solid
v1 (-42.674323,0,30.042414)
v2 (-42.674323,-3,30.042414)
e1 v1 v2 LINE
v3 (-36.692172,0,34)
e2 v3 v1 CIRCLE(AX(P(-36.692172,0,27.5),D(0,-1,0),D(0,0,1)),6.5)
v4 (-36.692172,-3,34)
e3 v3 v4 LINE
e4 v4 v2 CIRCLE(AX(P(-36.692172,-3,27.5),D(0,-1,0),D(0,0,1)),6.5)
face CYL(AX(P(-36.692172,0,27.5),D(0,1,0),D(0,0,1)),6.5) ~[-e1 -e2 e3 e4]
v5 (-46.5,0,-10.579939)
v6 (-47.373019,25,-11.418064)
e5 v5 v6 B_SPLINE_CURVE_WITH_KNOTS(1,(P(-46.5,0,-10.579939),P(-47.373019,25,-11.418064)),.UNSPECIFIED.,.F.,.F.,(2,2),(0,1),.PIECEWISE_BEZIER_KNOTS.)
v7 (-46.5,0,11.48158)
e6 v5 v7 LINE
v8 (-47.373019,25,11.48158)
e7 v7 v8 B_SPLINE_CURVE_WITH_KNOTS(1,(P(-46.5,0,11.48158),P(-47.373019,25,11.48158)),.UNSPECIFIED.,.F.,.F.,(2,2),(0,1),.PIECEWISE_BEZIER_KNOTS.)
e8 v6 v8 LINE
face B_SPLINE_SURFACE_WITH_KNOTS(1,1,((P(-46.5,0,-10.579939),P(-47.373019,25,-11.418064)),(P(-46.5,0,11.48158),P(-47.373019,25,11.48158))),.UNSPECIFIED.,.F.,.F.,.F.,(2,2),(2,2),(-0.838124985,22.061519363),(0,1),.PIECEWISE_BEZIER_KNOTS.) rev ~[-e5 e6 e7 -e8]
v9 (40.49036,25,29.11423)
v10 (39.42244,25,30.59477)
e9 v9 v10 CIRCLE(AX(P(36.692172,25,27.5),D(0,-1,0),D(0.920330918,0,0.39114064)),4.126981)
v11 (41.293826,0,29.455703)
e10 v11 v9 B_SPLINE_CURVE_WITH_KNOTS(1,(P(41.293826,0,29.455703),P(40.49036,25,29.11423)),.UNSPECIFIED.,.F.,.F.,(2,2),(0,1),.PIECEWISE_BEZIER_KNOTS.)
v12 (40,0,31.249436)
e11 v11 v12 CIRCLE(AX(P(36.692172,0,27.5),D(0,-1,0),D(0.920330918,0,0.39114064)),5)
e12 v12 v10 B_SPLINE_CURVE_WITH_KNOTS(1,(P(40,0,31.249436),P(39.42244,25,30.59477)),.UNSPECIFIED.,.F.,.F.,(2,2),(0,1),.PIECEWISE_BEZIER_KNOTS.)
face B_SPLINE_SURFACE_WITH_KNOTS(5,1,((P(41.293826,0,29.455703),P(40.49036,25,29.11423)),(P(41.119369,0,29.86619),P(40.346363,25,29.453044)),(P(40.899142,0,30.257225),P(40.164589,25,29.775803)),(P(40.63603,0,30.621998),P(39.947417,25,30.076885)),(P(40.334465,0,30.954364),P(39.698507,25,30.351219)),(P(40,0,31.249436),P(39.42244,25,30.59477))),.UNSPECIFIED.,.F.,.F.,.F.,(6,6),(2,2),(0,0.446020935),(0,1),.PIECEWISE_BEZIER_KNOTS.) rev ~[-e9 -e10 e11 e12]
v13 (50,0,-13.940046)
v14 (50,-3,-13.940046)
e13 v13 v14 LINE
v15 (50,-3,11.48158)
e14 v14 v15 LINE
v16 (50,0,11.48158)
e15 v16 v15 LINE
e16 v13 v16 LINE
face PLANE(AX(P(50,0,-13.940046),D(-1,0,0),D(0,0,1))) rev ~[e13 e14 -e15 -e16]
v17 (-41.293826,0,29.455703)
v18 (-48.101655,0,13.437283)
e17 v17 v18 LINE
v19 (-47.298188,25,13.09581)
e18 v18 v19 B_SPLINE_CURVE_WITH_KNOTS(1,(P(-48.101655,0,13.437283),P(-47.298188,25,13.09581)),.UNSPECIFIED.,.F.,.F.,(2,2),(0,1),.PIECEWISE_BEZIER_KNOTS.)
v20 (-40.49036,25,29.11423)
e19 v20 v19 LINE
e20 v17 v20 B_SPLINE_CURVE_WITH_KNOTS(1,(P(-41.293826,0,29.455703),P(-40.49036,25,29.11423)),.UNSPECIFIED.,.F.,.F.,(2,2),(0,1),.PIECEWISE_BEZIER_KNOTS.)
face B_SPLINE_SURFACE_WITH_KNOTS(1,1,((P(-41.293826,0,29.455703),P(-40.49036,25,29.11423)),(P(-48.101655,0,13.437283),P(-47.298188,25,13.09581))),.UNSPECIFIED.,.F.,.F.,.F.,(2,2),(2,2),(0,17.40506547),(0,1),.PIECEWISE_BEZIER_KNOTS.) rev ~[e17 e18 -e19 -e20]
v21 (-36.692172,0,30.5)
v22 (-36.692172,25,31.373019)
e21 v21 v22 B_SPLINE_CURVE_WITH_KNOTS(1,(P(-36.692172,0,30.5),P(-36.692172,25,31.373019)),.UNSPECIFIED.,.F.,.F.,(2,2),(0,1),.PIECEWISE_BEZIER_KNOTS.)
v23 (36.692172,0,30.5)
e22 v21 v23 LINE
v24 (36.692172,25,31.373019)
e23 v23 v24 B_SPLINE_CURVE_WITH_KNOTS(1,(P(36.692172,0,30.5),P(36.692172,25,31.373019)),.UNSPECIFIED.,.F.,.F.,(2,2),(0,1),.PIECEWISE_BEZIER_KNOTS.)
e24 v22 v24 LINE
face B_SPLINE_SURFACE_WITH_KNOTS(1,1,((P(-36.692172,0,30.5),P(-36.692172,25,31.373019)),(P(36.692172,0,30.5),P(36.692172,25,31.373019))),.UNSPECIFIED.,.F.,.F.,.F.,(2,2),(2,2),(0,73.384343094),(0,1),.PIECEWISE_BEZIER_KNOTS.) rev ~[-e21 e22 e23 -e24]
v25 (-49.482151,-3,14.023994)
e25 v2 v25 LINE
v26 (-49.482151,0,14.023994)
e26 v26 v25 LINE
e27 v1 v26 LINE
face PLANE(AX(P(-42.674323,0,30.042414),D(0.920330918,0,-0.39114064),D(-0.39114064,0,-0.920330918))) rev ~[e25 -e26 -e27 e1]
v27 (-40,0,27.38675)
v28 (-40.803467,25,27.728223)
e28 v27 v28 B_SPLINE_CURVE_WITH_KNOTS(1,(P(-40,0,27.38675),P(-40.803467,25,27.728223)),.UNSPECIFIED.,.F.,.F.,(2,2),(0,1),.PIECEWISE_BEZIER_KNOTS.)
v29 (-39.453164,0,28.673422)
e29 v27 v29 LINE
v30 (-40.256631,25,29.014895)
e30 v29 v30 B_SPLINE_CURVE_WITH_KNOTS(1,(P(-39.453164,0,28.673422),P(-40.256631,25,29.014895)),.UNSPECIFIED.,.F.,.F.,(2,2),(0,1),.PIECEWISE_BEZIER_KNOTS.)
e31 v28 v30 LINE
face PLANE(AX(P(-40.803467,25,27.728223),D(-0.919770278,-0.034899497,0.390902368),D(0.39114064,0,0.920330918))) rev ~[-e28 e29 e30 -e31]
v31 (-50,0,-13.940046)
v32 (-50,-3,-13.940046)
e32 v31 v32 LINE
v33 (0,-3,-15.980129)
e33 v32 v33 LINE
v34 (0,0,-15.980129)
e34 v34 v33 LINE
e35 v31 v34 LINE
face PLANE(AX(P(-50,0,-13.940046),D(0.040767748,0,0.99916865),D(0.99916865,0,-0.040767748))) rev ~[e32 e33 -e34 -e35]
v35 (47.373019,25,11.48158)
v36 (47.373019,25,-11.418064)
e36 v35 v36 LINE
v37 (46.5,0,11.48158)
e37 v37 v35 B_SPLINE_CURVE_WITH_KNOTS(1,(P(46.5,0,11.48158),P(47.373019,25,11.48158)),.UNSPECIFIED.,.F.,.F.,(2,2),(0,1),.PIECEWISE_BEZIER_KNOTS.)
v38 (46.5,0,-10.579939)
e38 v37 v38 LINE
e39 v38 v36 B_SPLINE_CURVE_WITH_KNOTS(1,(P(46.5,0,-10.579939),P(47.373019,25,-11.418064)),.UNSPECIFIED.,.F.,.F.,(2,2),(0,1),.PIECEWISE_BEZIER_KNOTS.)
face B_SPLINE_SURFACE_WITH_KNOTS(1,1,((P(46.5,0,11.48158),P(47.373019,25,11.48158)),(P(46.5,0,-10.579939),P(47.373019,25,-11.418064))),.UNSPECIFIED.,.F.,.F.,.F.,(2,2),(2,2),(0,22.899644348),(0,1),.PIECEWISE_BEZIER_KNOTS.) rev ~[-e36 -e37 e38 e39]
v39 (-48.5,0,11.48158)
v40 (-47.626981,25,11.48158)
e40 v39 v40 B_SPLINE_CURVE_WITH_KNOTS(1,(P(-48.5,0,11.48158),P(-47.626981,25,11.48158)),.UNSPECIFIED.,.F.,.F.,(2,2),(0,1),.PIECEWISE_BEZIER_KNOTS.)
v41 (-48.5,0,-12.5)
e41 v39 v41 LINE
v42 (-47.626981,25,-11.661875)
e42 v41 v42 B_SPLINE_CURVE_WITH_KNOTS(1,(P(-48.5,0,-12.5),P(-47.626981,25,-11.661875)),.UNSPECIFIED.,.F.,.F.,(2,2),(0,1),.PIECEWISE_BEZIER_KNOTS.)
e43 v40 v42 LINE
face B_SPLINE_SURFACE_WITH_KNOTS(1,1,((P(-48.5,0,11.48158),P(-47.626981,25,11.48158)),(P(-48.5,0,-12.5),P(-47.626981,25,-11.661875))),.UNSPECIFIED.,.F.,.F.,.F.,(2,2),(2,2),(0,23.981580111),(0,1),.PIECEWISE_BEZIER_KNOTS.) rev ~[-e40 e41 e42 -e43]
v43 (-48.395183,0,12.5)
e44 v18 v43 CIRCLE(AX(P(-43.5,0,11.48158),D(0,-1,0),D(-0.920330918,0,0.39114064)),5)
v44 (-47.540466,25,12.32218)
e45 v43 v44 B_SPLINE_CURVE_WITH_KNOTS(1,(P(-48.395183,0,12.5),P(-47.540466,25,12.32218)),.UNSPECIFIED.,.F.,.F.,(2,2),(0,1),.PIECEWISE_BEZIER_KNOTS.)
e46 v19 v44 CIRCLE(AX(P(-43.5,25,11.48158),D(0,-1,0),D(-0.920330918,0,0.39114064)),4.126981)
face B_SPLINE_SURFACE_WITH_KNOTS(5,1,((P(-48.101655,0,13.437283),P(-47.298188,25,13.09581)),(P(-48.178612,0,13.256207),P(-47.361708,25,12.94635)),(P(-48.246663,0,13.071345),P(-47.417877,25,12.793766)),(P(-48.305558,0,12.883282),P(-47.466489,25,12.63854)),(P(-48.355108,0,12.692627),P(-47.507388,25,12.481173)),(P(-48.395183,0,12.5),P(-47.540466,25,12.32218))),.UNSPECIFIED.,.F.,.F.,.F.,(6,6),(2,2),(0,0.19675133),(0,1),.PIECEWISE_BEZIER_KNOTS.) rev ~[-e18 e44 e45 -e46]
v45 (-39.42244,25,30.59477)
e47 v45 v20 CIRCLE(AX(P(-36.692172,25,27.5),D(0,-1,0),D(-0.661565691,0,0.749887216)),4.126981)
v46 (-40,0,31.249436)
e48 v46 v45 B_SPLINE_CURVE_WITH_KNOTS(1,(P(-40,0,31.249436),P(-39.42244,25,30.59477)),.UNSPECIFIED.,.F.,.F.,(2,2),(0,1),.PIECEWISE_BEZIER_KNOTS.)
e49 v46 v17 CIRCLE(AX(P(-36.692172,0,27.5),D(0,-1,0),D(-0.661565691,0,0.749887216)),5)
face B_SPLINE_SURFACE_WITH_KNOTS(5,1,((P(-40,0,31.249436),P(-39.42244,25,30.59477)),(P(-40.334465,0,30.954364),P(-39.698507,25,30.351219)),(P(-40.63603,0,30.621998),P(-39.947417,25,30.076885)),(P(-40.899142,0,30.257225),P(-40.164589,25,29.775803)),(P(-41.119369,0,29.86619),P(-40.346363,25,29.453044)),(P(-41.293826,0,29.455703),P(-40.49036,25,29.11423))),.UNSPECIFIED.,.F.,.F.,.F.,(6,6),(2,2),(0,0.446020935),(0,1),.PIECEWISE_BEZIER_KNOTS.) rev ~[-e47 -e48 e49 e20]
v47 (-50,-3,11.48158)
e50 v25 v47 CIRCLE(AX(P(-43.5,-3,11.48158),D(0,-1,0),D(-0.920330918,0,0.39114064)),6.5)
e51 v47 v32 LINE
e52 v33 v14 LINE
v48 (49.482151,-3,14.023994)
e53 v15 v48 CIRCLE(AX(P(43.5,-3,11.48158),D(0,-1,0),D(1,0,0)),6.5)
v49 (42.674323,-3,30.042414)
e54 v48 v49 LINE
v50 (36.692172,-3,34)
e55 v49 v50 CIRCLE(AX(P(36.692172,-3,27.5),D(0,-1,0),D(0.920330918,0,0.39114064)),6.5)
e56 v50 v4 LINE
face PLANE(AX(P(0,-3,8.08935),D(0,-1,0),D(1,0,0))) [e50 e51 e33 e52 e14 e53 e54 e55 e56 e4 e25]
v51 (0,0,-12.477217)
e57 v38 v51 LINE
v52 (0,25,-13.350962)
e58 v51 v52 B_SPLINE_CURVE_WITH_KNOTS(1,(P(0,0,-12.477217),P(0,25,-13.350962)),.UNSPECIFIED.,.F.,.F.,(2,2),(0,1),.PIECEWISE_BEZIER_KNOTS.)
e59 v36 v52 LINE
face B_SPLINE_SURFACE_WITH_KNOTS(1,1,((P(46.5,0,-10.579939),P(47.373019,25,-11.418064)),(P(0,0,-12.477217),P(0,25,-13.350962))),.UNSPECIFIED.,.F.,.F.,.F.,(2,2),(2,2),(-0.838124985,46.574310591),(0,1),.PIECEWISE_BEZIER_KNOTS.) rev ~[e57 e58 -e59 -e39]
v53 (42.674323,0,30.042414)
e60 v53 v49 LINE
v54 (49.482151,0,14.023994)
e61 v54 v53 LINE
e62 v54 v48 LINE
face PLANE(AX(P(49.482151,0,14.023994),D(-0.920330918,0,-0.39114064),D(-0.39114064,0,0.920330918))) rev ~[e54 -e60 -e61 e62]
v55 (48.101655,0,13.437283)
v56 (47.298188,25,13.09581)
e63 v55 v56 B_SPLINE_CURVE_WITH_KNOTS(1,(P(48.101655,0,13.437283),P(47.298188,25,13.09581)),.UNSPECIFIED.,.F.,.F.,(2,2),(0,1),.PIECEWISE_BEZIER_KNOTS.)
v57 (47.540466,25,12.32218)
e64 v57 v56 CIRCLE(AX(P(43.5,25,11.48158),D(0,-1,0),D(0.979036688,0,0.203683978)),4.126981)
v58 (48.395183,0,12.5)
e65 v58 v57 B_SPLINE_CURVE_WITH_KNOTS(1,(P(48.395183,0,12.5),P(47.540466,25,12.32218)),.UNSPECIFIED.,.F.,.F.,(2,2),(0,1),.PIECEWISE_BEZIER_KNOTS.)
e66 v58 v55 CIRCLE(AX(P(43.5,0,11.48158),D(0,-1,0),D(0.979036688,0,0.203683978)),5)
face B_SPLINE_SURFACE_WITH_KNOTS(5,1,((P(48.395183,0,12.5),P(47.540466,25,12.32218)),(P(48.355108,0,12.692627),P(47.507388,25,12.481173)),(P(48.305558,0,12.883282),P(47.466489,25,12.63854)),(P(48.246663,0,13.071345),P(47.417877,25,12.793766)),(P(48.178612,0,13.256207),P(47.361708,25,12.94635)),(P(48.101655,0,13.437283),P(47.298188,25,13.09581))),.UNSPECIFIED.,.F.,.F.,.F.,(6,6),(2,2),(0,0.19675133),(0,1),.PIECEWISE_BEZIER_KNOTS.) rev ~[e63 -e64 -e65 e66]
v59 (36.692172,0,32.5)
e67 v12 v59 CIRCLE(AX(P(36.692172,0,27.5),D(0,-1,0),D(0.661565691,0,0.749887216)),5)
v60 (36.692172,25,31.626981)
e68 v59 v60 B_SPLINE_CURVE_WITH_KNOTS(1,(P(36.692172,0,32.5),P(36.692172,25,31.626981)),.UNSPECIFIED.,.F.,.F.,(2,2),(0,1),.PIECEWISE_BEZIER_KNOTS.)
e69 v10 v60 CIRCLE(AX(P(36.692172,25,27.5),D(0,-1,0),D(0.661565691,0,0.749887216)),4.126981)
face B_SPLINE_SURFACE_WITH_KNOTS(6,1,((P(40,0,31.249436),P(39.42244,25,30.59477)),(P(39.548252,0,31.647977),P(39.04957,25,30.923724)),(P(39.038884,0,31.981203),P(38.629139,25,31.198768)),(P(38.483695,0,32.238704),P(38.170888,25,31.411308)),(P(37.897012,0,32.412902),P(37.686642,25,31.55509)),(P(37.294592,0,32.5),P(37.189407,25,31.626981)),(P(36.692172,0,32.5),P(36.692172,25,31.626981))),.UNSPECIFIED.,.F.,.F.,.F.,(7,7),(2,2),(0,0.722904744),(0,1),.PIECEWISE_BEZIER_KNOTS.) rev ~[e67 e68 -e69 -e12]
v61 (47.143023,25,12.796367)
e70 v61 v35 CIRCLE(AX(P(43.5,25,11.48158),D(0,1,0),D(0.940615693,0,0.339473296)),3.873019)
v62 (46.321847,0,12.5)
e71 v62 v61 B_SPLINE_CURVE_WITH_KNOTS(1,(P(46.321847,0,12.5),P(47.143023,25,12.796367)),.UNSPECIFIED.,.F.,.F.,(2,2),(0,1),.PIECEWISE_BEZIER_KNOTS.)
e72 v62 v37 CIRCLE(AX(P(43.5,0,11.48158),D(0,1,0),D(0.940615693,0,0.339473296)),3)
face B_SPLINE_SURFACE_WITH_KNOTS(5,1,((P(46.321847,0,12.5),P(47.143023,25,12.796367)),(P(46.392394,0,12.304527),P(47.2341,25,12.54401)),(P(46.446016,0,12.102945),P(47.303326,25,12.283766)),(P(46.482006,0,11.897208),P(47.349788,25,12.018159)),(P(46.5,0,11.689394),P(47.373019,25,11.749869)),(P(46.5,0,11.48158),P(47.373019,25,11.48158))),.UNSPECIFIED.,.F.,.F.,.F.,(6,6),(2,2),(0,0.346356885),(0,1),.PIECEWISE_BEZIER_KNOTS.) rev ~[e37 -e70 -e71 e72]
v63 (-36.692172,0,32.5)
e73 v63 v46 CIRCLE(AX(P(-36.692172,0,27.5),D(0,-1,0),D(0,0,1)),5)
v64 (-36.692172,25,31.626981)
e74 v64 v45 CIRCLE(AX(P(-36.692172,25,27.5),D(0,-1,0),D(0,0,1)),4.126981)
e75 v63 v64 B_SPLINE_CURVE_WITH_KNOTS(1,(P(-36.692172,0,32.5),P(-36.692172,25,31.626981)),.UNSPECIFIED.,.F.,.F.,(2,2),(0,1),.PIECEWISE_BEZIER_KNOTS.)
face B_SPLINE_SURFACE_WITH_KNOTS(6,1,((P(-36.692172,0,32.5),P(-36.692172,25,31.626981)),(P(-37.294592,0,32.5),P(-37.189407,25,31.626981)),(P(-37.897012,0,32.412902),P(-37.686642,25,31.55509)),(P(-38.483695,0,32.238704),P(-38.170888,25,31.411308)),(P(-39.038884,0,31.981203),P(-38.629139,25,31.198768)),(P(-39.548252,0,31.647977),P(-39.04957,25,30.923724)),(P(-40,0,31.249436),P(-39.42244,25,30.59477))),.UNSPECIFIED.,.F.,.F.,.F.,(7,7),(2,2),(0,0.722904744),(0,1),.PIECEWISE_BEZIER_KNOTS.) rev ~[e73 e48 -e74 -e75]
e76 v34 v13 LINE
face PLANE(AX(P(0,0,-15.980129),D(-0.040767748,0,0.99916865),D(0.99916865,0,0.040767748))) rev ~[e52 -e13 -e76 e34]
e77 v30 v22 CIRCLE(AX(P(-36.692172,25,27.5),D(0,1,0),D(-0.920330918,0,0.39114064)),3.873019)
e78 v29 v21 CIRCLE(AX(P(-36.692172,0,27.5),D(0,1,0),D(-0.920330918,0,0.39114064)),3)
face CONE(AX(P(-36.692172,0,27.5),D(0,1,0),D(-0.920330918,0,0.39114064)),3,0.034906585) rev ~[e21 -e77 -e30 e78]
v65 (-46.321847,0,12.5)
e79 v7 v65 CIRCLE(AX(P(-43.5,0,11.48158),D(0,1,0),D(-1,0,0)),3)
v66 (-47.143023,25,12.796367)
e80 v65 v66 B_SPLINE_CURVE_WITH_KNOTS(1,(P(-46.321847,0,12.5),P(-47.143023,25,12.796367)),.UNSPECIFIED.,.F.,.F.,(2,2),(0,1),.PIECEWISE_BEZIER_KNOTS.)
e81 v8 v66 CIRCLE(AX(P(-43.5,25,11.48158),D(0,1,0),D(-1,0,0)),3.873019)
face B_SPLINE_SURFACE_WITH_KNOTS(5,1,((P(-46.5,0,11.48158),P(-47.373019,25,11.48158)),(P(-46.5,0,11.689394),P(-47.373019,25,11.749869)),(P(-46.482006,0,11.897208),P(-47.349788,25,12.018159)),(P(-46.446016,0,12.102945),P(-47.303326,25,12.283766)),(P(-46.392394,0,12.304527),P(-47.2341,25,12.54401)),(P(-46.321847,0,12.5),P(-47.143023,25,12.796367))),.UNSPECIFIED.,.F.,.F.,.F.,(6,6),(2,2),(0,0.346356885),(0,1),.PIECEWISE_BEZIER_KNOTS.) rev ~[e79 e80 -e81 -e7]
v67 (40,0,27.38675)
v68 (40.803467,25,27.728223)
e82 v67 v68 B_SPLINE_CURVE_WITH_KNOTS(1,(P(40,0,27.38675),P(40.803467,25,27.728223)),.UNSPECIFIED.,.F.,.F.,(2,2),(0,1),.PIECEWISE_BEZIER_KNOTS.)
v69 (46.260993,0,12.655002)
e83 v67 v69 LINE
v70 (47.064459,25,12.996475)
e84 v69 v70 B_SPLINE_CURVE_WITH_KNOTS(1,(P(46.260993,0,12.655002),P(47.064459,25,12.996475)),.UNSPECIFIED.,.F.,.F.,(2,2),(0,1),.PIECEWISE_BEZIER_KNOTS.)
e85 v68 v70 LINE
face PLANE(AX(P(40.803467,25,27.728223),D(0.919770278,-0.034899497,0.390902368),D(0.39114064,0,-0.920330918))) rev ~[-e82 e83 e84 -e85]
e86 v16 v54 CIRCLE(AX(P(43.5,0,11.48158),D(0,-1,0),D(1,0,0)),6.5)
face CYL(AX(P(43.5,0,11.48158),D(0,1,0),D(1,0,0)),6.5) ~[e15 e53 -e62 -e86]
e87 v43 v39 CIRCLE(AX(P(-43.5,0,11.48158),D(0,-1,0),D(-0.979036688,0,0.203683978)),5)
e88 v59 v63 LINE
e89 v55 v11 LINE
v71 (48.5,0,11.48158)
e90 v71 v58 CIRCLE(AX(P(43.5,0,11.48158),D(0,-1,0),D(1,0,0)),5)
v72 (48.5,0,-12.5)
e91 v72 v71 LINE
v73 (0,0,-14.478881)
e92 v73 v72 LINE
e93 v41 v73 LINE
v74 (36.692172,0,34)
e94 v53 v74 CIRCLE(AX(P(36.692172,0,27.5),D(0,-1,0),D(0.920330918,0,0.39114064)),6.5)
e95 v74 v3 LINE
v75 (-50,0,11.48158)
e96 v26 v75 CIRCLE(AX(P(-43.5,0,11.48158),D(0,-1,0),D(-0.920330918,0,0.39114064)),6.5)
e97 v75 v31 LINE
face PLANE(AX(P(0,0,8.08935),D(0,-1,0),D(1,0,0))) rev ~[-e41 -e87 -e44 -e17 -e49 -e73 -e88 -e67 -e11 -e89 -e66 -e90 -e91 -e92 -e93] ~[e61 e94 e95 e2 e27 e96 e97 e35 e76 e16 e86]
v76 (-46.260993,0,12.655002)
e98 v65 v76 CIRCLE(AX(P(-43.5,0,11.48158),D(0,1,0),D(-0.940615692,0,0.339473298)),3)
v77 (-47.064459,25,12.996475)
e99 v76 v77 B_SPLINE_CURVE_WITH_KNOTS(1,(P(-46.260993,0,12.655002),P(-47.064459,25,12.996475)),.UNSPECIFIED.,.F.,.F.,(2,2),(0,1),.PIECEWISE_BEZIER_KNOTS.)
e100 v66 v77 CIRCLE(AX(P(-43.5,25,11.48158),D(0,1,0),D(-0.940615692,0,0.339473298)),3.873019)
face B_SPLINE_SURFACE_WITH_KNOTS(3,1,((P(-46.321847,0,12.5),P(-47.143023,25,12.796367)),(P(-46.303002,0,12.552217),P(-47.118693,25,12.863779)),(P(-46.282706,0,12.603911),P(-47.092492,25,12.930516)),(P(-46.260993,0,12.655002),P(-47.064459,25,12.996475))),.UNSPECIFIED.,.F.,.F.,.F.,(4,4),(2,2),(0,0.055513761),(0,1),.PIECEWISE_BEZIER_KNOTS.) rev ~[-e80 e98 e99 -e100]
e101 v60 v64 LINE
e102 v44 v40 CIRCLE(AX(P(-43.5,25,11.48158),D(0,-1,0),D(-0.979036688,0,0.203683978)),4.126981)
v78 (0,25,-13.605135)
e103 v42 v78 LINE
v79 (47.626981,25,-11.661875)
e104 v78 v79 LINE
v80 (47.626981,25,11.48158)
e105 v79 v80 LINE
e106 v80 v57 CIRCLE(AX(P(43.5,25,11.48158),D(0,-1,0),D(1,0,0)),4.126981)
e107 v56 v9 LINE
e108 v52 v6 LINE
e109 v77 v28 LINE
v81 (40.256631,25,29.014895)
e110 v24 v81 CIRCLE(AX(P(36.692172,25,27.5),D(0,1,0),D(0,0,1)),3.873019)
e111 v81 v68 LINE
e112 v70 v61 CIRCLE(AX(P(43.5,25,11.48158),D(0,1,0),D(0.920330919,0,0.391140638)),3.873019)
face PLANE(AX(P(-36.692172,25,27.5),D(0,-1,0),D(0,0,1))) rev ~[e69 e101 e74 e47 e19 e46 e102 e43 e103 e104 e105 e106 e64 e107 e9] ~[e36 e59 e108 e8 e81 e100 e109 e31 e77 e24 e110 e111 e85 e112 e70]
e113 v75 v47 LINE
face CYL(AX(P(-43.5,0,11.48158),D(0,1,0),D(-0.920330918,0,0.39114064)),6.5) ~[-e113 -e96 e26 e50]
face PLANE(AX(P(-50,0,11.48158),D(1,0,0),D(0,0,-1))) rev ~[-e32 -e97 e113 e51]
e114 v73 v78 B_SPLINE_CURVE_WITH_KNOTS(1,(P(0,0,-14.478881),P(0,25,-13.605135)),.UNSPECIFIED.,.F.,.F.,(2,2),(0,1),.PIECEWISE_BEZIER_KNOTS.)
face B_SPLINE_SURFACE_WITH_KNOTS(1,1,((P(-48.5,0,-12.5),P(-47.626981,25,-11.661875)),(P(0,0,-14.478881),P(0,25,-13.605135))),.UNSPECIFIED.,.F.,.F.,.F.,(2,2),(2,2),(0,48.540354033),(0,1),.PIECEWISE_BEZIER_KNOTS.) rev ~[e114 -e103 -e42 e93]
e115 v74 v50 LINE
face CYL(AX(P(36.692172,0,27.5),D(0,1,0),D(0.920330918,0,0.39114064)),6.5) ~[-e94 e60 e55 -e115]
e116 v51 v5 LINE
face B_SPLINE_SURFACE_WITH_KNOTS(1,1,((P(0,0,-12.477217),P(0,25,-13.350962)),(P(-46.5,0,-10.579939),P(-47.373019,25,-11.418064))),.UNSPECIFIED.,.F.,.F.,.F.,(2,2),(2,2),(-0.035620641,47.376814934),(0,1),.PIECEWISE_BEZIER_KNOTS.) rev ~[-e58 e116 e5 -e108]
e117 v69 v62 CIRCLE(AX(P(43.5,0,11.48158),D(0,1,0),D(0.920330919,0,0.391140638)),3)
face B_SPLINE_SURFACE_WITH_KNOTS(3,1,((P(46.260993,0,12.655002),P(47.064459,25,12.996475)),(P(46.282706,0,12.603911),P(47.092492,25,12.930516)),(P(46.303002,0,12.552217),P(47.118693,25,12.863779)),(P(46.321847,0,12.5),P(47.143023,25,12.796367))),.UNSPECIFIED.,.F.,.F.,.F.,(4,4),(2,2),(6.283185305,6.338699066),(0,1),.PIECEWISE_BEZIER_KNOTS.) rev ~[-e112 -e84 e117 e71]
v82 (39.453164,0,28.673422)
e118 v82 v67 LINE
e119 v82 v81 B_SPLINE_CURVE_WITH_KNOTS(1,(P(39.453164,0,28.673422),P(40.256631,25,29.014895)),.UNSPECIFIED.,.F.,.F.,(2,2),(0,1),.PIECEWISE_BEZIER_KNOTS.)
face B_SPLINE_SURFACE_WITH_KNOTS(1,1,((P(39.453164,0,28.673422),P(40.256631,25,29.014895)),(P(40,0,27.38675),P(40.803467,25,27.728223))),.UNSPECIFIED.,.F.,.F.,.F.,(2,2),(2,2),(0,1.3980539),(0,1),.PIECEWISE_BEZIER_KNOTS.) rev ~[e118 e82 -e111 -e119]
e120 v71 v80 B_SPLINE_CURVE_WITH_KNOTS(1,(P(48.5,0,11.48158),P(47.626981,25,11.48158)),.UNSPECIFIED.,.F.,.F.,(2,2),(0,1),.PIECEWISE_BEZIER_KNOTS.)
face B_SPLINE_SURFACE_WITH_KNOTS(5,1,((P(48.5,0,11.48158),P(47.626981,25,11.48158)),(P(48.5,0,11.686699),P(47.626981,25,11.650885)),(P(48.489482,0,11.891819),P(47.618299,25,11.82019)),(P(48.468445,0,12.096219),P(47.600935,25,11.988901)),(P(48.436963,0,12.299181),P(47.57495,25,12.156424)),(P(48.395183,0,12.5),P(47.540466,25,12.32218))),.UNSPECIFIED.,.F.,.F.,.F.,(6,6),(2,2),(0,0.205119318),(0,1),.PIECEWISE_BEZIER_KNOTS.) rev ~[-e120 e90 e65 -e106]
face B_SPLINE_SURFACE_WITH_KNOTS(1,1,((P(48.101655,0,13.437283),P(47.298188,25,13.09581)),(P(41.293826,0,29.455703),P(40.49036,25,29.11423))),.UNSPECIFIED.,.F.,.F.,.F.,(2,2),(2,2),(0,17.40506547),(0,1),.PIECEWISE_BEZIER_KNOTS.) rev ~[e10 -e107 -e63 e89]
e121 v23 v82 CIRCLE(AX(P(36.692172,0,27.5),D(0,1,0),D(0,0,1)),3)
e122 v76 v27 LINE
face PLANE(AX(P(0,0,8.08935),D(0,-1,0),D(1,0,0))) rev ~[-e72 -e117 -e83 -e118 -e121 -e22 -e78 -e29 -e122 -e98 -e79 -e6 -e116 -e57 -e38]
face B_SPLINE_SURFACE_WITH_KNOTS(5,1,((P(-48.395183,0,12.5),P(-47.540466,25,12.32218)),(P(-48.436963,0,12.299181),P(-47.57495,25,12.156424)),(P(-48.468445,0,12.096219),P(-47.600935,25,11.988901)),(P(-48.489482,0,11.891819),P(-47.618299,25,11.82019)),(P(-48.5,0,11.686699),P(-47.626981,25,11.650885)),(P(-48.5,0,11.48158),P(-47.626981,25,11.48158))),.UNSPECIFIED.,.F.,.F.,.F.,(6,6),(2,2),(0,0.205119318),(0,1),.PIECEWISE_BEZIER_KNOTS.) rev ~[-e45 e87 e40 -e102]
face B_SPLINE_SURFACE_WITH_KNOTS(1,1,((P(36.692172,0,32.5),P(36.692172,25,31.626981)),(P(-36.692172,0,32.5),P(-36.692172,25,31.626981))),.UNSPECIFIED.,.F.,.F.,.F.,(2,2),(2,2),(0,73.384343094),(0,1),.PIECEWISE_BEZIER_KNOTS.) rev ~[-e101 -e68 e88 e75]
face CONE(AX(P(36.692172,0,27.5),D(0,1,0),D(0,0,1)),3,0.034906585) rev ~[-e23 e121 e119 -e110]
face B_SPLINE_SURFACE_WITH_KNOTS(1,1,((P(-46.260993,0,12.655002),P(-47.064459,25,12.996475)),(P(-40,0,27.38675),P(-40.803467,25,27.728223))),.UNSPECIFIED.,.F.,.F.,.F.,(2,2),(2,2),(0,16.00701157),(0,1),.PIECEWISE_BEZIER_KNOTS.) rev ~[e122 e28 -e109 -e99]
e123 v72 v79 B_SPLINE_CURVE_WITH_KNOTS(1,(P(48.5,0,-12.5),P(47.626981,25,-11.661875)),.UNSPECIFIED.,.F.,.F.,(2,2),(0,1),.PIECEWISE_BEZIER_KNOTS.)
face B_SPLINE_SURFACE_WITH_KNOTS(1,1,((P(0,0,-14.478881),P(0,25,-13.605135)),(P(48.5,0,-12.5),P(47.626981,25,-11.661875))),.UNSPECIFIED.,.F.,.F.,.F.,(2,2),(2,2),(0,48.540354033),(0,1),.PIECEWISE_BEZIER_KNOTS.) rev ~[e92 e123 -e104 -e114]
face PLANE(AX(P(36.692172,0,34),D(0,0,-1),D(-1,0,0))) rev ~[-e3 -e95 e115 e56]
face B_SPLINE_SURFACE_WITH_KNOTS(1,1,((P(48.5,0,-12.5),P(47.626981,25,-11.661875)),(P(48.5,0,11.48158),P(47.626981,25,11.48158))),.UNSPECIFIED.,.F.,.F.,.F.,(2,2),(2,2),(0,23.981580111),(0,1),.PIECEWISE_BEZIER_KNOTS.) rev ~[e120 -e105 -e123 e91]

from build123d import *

# Parameters (mm, degrees)
F1_DEPTH = 3
F2_DEPTH = 25
F2_TAPER = 2


with BuildPart() as f1:
    # F0 (on Front) → F1 (new body)
    with BuildSketch(Plane.XZ):
        with BuildLine():
            Line((-50, -13.9400455604), (0, -15.9801289749))
            Line((0, -15.9801289749), (50, -13.9400455604))
            Line((50, -13.9400455604), (50, 11.4815801105))
            ThreePointArc((50, 11.4815801105), (49.8692221387, 12.7788886118), (49.48215097, 14.0239942728))
            Line((49.48215097, 14.0239942728), (42.674322517, 30.0424141622))
            ThreePointArc((42.674322517, 30.0424141622), (40.2785560736, 32.9210558037), (36.692171547, 34))
            Line((36.692171547, 34), (-36.692171547, 34))
            ThreePointArc((-36.692171547, 34), (-40.2785560736, 32.9210558037), (-42.674322517, 30.0424141622))
            Line((-42.674322517, 30.0424141622), (-49.48215097, 14.0239942728))
            ThreePointArc((-49.48215097, 14.0239942728), (-49.8692221387, 12.7788886118), (-50, 11.4815801105))
            Line((-50, 11.4815801105), (-50, -13.9400455604))
        make_face()
        with BuildLine():
            Line((48.5, 11.4815801105), (48.5, -12.5))
            Line((48.5, -12.5), (0, -14.4788809121))
            Line((0, -14.4788809121), (-48.5, -12.5))
            Line((-48.5, -12.5), (-48.5, 11.4815801105))
            ThreePointArc((-48.5, 11.4815801105), (-48.4737268325, 11.9934799011), (-48.3951834418, 12.5))
            ThreePointArc((-48.3951834418, 12.5), (-48.2714890929, 12.9758665077), (-48.1016545923, 13.4372833123))
            Line((-48.1016545923, 13.4372833123), (-41.2938261393, 29.4557032017))
            ThreePointArc((-41.2938261393, 29.4557032017), (-40.7473349126, 30.4250042869), (-40, 31.249436081))
            ThreePointArc((-40, 31.249436081), (-38.4603372059, 32.1769210173), (-36.692171547, 32.5))
            Line((-36.692171547, 32.5), (0, 32.5))
            Line((0, 32.5), (36.692171547, 32.5))
            ThreePointArc((36.692171547, 32.5), (38.4603372059, 32.1769210173), (40, 31.249436081))
            ThreePointArc((40, 31.249436081), (40.7473349126, 30.4250042869), (41.2938261393, 29.4557032017))
            Line((41.2938261393, 29.4557032017), (48.1016545923, 13.4372833123))
            ThreePointArc((48.1016545923, 13.4372833123), (48.2714890929, 12.9758665077), (48.3951834418, 12.5))
            ThreePointArc((48.3951834418, 12.5), (48.4737268325, 11.9934799011), (48.5, 11.4815801105))
        make_face(mode=Mode.SUBTRACT)
        with BuildLine():
            Line((0, 12.5), (0, -12.4772168282))
            Line((0, -12.4772168282), (46.5, -10.5799392527))
            Line((46.5, -10.5799392527), (46.5, 11.4815801105))
            ThreePointArc((46.5, 11.4815801105), (46.4551261591, 11.9985224514), (46.3218470775, 12.5))
            Line((46.3218470775, 12.5), (40, 12.5))
            Line((40, 12.5), (0, 12.5))
        make_face()
        with BuildLine():
            Line((-46.5, -10.5799392527), (0, -12.4772168282))
            Line((0, -12.4772168282), (0, 12.5))
            Line((0, 12.5), (-40, 12.5))
            Line((-40, 12.5), (-46.3218470775, 12.5))
            ThreePointArc((-46.3218470775, 12.5), (-46.4551261591, 11.9985224514), (-46.5, 11.4815801105))
            Line((-46.5, 11.4815801105), (-46.5, -10.5799392527))
        make_face()
        with BuildLine():
            Line((-40, 12.5), (0, 12.5))
            Line((0, 12.5), (0, 30.5))
            Line((0, 30.5), (-36.692171547, 30.5))
            ThreePointArc((-36.692171547, 30.5), (-38.3474259439, 30.0020257556), (-39.4531643024, 28.673421921))
            Line((-39.4531643024, 28.673421921), (-40, 27.3867496913))
            Line((-40, 27.3867496913), (-40, 12.5))
        make_face()
        with BuildLine():
            Line((0, 30.5), (0, 12.5))
            Line((0, 12.5), (40, 12.5))
            Line((40, 12.5), (40, 27.3867496913))
            Line((40, 27.3867496913), (39.4531643024, 28.673421921))
            ThreePointArc((39.4531643024, 28.673421921), (38.3474259439, 30.0020257556), (36.692171547, 30.5))
            Line((36.692171547, 30.5), (0, 30.5))
        make_face()
        with BuildLine():
            Line((0, -12.5), (48.5, -12.5))
            Line((48.5, -12.5), (48.5, 11.4815801105))
            ThreePointArc((48.5, 11.4815801105), (48.4737268325, 11.9934799011), (48.3951834418, 12.5))
            Line((48.3951834418, 12.5), (46.3218470775, 12.5))
            ThreePointArc((46.3218470775, 12.5), (46.4551261591, 11.9985224514), (46.5, 11.4815801105))
            Line((46.5, 11.4815801105), (46.5, -10.5799392527))
            Line((46.5, -10.5799392527), (0, -12.4772168282))
            Line((0, -12.4772168282), (0, -12.5))
        make_face()
        with BuildLine():
            Line((-48.5, -12.5), (0, -12.5))
            Line((0, -12.5), (0, -12.4772168282))
            Line((0, -12.4772168282), (-46.5, -10.5799392527))
            Line((-46.5, -10.5799392527), (-46.5, 11.4815801105))
            ThreePointArc((-46.5, 11.4815801105), (-46.4551261591, 11.9985224514), (-46.3218470775, 12.5))
            Line((-46.3218470775, 12.5), (-48.3951834418, 12.5))
            ThreePointArc((-48.3951834418, 12.5), (-48.4737268325, 11.9934799011), (-48.5, 11.4815801105))
            Line((-48.5, 11.4815801105), (-48.5, -12.5))
        make_face()
        with BuildLine():
            Line((0, 32.5), (0, 30.5))
            Line((0, 30.5), (36.692171547, 30.5))
            ThreePointArc((36.692171547, 30.5), (38.3474259439, 30.0020257556), (39.4531643024, 28.673421921))
            Line((39.4531643024, 28.673421921), (40, 27.3867496913))
            Line((40, 27.3867496913), (40, 31.249436081))
            ThreePointArc((40, 31.249436081), (38.4603372059, 32.1769210173), (36.692171547, 32.5))
            Line((36.692171547, 32.5), (0, 32.5))
        make_face()
        with BuildLine():
            Line((-36.692171547, 30.5), (0, 30.5))
            Line((0, 30.5), (0, 32.5))
            Line((0, 32.5), (-36.692171547, 32.5))
            ThreePointArc((-36.692171547, 32.5), (-38.4603372059, 32.1769210173), (-40, 31.249436081))
            Line((-40, 31.249436081), (-40, 27.3867496913))
            Line((-40, 27.3867496913), (-39.4531643024, 28.673421921))
            ThreePointArc((-39.4531643024, 28.673421921), (-38.3474259439, 30.0020257556), (-36.692171547, 30.5))
        make_face()
        Polygon((0, -14.4788809121), (48.5, -12.5), (0, -12.5), align=None)
        Polygon((0, -14.4788809121), (0, -12.5), (-48.5, -12.5), align=None)
        with BuildLine():
            Line((-46.3218470775, 12.5), (-40, 12.5))
            Line((-40, 12.5), (-40, 27.3867496913))
            Line((-40, 27.3867496913), (-46.2609927554, 12.6550020316))
            ThreePointArc((-46.2609927554, 12.6550020316), (-46.2924955787, 12.5779233244), (-46.3218470775, 12.5))
        make_face()
        with BuildLine():
            Line((40, 12.5), (46.3218470775, 12.5))
            ThreePointArc((46.3218470775, 12.5), (46.2924955787, 12.5779233244), (46.2609927554, 12.6550020316))
            Line((46.2609927554, 12.6550020316), (40, 27.3867496913))
            Line((40, 27.3867496913), (40, 12.5))
        make_face()
        with BuildLine():
            ThreePointArc((-48.1016545923, 13.4372833123), (-48.2714890929, 12.9758665077), (-48.3951834418, 12.5))
            Line((-48.3951834418, 12.5), (-46.3218470775, 12.5))
            ThreePointArc((-46.3218470775, 12.5), (-46.2924955787, 12.5779233244), (-46.2609927554, 12.6550020316))
            Line((-46.2609927554, 12.6550020316), (-40, 27.3867496913))
            Line((-40, 27.3867496913), (-40, 31.249436081))
            ThreePointArc((-40, 31.249436081), (-40.7473349126, 30.4250042869), (-41.2938261393, 29.4557032017))
            Line((-41.2938261393, 29.4557032017), (-48.1016545923, 13.4372833123))
        make_face()
        with BuildLine():
            Line((46.3218470775, 12.5), (48.3951834418, 12.5))
            ThreePointArc((48.3951834418, 12.5), (48.2714890929, 12.9758665077), (48.1016545923, 13.4372833123))
            Line((48.1016545923, 13.4372833123), (41.2938261393, 29.4557032017))
            ThreePointArc((41.2938261393, 29.4557032017), (40.7473349126, 30.4250042869), (40, 31.249436081))
            Line((40, 31.249436081), (40, 27.3867496913))
            Line((40, 27.3867496913), (46.2609927554, 12.6550020316))
            ThreePointArc((46.2609927554, 12.6550020316), (46.2924955787, 12.5779233244), (46.3218470775, 12.5))
        make_face()
    extrude(amount=F1_DEPTH)

    # F0 (on Front) → F2 (join)
    with BuildSketch(Plane.XZ):
        with BuildLine():
            Line((-36.692171547, 30.5), (0, 30.5))
            Line((0, 30.5), (0, 32.5))
            Line((0, 32.5), (-36.692171547, 32.5))
            ThreePointArc((-36.692171547, 32.5), (-38.4603372059, 32.1769210173), (-40, 31.249436081))
            Line((-40, 31.249436081), (-40, 27.3867496913))
            Line((-40, 27.3867496913), (-39.4531643024, 28.673421921))
            ThreePointArc((-39.4531643024, 28.673421921), (-38.3474259439, 30.0020257556), (-36.692171547, 30.5))
        make_face()
        with BuildLine():
            ThreePointArc((-48.1016545923, 13.4372833123), (-48.2714890929, 12.9758665077), (-48.3951834418, 12.5))
            Line((-48.3951834418, 12.5), (-46.3218470775, 12.5))
            ThreePointArc((-46.3218470775, 12.5), (-46.2924955787, 12.5779233244), (-46.2609927554, 12.6550020316))
            Line((-46.2609927554, 12.6550020316), (-40, 27.3867496913))
            Line((-40, 27.3867496913), (-40, 31.249436081))
            ThreePointArc((-40, 31.249436081), (-40.7473349126, 30.4250042869), (-41.2938261393, 29.4557032017))
            Line((-41.2938261393, 29.4557032017), (-48.1016545923, 13.4372833123))
        make_face()
        with BuildLine():
            Line((-48.5, -12.5), (0, -12.5))
            Line((0, -12.5), (0, -12.4772168282))
            Line((0, -12.4772168282), (-46.5, -10.5799392527))
            Line((-46.5, -10.5799392527), (-46.5, 11.4815801105))
            ThreePointArc((-46.5, 11.4815801105), (-46.4551261591, 11.9985224514), (-46.3218470775, 12.5))
            Line((-46.3218470775, 12.5), (-48.3951834418, 12.5))
            ThreePointArc((-48.3951834418, 12.5), (-48.4737268325, 11.9934799011), (-48.5, 11.4815801105))
            Line((-48.5, 11.4815801105), (-48.5, -12.5))
        make_face()
        Polygon((0, -14.4788809121), (0, -12.5), (-48.5, -12.5), align=None)
        Polygon((0, -14.4788809121), (48.5, -12.5), (0, -12.5), align=None)
        with BuildLine():
            Line((0, -12.5), (48.5, -12.5))
            Line((48.5, -12.5), (48.5, 11.4815801105))
            ThreePointArc((48.5, 11.4815801105), (48.4737268325, 11.9934799011), (48.3951834418, 12.5))
            Line((48.3951834418, 12.5), (46.3218470775, 12.5))
            ThreePointArc((46.3218470775, 12.5), (46.4551261591, 11.9985224514), (46.5, 11.4815801105))
            Line((46.5, 11.4815801105), (46.5, -10.5799392527))
            Line((46.5, -10.5799392527), (0, -12.4772168282))
            Line((0, -12.4772168282), (0, -12.5))
        make_face()
        with BuildLine():
            Line((46.3218470775, 12.5), (48.3951834418, 12.5))
            ThreePointArc((48.3951834418, 12.5), (48.2714890929, 12.9758665077), (48.1016545923, 13.4372833123))
            Line((48.1016545923, 13.4372833123), (41.2938261393, 29.4557032017))
            ThreePointArc((41.2938261393, 29.4557032017), (40.7473349126, 30.4250042869), (40, 31.249436081))
            Line((40, 31.249436081), (40, 27.3867496913))
            Line((40, 27.3867496913), (46.2609927554, 12.6550020316))
            ThreePointArc((46.2609927554, 12.6550020316), (46.2924955787, 12.5779233244), (46.3218470775, 12.5))
        make_face()
        with BuildLine():
            Line((0, 32.5), (0, 30.5))
            Line((0, 30.5), (36.692171547, 30.5))
            ThreePointArc((36.692171547, 30.5), (38.3474259439, 30.0020257556), (39.4531643024, 28.673421921))
            Line((39.4531643024, 28.673421921), (40, 27.3867496913))
            Line((40, 27.3867496913), (40, 31.249436081))
            ThreePointArc((40, 31.249436081), (38.4603372059, 32.1769210173), (36.692171547, 32.5))
            Line((36.692171547, 32.5), (0, 32.5))
        make_face()
    extrude(amount=-F2_DEPTH, taper=F2_TAPER)


solid = f1.part
